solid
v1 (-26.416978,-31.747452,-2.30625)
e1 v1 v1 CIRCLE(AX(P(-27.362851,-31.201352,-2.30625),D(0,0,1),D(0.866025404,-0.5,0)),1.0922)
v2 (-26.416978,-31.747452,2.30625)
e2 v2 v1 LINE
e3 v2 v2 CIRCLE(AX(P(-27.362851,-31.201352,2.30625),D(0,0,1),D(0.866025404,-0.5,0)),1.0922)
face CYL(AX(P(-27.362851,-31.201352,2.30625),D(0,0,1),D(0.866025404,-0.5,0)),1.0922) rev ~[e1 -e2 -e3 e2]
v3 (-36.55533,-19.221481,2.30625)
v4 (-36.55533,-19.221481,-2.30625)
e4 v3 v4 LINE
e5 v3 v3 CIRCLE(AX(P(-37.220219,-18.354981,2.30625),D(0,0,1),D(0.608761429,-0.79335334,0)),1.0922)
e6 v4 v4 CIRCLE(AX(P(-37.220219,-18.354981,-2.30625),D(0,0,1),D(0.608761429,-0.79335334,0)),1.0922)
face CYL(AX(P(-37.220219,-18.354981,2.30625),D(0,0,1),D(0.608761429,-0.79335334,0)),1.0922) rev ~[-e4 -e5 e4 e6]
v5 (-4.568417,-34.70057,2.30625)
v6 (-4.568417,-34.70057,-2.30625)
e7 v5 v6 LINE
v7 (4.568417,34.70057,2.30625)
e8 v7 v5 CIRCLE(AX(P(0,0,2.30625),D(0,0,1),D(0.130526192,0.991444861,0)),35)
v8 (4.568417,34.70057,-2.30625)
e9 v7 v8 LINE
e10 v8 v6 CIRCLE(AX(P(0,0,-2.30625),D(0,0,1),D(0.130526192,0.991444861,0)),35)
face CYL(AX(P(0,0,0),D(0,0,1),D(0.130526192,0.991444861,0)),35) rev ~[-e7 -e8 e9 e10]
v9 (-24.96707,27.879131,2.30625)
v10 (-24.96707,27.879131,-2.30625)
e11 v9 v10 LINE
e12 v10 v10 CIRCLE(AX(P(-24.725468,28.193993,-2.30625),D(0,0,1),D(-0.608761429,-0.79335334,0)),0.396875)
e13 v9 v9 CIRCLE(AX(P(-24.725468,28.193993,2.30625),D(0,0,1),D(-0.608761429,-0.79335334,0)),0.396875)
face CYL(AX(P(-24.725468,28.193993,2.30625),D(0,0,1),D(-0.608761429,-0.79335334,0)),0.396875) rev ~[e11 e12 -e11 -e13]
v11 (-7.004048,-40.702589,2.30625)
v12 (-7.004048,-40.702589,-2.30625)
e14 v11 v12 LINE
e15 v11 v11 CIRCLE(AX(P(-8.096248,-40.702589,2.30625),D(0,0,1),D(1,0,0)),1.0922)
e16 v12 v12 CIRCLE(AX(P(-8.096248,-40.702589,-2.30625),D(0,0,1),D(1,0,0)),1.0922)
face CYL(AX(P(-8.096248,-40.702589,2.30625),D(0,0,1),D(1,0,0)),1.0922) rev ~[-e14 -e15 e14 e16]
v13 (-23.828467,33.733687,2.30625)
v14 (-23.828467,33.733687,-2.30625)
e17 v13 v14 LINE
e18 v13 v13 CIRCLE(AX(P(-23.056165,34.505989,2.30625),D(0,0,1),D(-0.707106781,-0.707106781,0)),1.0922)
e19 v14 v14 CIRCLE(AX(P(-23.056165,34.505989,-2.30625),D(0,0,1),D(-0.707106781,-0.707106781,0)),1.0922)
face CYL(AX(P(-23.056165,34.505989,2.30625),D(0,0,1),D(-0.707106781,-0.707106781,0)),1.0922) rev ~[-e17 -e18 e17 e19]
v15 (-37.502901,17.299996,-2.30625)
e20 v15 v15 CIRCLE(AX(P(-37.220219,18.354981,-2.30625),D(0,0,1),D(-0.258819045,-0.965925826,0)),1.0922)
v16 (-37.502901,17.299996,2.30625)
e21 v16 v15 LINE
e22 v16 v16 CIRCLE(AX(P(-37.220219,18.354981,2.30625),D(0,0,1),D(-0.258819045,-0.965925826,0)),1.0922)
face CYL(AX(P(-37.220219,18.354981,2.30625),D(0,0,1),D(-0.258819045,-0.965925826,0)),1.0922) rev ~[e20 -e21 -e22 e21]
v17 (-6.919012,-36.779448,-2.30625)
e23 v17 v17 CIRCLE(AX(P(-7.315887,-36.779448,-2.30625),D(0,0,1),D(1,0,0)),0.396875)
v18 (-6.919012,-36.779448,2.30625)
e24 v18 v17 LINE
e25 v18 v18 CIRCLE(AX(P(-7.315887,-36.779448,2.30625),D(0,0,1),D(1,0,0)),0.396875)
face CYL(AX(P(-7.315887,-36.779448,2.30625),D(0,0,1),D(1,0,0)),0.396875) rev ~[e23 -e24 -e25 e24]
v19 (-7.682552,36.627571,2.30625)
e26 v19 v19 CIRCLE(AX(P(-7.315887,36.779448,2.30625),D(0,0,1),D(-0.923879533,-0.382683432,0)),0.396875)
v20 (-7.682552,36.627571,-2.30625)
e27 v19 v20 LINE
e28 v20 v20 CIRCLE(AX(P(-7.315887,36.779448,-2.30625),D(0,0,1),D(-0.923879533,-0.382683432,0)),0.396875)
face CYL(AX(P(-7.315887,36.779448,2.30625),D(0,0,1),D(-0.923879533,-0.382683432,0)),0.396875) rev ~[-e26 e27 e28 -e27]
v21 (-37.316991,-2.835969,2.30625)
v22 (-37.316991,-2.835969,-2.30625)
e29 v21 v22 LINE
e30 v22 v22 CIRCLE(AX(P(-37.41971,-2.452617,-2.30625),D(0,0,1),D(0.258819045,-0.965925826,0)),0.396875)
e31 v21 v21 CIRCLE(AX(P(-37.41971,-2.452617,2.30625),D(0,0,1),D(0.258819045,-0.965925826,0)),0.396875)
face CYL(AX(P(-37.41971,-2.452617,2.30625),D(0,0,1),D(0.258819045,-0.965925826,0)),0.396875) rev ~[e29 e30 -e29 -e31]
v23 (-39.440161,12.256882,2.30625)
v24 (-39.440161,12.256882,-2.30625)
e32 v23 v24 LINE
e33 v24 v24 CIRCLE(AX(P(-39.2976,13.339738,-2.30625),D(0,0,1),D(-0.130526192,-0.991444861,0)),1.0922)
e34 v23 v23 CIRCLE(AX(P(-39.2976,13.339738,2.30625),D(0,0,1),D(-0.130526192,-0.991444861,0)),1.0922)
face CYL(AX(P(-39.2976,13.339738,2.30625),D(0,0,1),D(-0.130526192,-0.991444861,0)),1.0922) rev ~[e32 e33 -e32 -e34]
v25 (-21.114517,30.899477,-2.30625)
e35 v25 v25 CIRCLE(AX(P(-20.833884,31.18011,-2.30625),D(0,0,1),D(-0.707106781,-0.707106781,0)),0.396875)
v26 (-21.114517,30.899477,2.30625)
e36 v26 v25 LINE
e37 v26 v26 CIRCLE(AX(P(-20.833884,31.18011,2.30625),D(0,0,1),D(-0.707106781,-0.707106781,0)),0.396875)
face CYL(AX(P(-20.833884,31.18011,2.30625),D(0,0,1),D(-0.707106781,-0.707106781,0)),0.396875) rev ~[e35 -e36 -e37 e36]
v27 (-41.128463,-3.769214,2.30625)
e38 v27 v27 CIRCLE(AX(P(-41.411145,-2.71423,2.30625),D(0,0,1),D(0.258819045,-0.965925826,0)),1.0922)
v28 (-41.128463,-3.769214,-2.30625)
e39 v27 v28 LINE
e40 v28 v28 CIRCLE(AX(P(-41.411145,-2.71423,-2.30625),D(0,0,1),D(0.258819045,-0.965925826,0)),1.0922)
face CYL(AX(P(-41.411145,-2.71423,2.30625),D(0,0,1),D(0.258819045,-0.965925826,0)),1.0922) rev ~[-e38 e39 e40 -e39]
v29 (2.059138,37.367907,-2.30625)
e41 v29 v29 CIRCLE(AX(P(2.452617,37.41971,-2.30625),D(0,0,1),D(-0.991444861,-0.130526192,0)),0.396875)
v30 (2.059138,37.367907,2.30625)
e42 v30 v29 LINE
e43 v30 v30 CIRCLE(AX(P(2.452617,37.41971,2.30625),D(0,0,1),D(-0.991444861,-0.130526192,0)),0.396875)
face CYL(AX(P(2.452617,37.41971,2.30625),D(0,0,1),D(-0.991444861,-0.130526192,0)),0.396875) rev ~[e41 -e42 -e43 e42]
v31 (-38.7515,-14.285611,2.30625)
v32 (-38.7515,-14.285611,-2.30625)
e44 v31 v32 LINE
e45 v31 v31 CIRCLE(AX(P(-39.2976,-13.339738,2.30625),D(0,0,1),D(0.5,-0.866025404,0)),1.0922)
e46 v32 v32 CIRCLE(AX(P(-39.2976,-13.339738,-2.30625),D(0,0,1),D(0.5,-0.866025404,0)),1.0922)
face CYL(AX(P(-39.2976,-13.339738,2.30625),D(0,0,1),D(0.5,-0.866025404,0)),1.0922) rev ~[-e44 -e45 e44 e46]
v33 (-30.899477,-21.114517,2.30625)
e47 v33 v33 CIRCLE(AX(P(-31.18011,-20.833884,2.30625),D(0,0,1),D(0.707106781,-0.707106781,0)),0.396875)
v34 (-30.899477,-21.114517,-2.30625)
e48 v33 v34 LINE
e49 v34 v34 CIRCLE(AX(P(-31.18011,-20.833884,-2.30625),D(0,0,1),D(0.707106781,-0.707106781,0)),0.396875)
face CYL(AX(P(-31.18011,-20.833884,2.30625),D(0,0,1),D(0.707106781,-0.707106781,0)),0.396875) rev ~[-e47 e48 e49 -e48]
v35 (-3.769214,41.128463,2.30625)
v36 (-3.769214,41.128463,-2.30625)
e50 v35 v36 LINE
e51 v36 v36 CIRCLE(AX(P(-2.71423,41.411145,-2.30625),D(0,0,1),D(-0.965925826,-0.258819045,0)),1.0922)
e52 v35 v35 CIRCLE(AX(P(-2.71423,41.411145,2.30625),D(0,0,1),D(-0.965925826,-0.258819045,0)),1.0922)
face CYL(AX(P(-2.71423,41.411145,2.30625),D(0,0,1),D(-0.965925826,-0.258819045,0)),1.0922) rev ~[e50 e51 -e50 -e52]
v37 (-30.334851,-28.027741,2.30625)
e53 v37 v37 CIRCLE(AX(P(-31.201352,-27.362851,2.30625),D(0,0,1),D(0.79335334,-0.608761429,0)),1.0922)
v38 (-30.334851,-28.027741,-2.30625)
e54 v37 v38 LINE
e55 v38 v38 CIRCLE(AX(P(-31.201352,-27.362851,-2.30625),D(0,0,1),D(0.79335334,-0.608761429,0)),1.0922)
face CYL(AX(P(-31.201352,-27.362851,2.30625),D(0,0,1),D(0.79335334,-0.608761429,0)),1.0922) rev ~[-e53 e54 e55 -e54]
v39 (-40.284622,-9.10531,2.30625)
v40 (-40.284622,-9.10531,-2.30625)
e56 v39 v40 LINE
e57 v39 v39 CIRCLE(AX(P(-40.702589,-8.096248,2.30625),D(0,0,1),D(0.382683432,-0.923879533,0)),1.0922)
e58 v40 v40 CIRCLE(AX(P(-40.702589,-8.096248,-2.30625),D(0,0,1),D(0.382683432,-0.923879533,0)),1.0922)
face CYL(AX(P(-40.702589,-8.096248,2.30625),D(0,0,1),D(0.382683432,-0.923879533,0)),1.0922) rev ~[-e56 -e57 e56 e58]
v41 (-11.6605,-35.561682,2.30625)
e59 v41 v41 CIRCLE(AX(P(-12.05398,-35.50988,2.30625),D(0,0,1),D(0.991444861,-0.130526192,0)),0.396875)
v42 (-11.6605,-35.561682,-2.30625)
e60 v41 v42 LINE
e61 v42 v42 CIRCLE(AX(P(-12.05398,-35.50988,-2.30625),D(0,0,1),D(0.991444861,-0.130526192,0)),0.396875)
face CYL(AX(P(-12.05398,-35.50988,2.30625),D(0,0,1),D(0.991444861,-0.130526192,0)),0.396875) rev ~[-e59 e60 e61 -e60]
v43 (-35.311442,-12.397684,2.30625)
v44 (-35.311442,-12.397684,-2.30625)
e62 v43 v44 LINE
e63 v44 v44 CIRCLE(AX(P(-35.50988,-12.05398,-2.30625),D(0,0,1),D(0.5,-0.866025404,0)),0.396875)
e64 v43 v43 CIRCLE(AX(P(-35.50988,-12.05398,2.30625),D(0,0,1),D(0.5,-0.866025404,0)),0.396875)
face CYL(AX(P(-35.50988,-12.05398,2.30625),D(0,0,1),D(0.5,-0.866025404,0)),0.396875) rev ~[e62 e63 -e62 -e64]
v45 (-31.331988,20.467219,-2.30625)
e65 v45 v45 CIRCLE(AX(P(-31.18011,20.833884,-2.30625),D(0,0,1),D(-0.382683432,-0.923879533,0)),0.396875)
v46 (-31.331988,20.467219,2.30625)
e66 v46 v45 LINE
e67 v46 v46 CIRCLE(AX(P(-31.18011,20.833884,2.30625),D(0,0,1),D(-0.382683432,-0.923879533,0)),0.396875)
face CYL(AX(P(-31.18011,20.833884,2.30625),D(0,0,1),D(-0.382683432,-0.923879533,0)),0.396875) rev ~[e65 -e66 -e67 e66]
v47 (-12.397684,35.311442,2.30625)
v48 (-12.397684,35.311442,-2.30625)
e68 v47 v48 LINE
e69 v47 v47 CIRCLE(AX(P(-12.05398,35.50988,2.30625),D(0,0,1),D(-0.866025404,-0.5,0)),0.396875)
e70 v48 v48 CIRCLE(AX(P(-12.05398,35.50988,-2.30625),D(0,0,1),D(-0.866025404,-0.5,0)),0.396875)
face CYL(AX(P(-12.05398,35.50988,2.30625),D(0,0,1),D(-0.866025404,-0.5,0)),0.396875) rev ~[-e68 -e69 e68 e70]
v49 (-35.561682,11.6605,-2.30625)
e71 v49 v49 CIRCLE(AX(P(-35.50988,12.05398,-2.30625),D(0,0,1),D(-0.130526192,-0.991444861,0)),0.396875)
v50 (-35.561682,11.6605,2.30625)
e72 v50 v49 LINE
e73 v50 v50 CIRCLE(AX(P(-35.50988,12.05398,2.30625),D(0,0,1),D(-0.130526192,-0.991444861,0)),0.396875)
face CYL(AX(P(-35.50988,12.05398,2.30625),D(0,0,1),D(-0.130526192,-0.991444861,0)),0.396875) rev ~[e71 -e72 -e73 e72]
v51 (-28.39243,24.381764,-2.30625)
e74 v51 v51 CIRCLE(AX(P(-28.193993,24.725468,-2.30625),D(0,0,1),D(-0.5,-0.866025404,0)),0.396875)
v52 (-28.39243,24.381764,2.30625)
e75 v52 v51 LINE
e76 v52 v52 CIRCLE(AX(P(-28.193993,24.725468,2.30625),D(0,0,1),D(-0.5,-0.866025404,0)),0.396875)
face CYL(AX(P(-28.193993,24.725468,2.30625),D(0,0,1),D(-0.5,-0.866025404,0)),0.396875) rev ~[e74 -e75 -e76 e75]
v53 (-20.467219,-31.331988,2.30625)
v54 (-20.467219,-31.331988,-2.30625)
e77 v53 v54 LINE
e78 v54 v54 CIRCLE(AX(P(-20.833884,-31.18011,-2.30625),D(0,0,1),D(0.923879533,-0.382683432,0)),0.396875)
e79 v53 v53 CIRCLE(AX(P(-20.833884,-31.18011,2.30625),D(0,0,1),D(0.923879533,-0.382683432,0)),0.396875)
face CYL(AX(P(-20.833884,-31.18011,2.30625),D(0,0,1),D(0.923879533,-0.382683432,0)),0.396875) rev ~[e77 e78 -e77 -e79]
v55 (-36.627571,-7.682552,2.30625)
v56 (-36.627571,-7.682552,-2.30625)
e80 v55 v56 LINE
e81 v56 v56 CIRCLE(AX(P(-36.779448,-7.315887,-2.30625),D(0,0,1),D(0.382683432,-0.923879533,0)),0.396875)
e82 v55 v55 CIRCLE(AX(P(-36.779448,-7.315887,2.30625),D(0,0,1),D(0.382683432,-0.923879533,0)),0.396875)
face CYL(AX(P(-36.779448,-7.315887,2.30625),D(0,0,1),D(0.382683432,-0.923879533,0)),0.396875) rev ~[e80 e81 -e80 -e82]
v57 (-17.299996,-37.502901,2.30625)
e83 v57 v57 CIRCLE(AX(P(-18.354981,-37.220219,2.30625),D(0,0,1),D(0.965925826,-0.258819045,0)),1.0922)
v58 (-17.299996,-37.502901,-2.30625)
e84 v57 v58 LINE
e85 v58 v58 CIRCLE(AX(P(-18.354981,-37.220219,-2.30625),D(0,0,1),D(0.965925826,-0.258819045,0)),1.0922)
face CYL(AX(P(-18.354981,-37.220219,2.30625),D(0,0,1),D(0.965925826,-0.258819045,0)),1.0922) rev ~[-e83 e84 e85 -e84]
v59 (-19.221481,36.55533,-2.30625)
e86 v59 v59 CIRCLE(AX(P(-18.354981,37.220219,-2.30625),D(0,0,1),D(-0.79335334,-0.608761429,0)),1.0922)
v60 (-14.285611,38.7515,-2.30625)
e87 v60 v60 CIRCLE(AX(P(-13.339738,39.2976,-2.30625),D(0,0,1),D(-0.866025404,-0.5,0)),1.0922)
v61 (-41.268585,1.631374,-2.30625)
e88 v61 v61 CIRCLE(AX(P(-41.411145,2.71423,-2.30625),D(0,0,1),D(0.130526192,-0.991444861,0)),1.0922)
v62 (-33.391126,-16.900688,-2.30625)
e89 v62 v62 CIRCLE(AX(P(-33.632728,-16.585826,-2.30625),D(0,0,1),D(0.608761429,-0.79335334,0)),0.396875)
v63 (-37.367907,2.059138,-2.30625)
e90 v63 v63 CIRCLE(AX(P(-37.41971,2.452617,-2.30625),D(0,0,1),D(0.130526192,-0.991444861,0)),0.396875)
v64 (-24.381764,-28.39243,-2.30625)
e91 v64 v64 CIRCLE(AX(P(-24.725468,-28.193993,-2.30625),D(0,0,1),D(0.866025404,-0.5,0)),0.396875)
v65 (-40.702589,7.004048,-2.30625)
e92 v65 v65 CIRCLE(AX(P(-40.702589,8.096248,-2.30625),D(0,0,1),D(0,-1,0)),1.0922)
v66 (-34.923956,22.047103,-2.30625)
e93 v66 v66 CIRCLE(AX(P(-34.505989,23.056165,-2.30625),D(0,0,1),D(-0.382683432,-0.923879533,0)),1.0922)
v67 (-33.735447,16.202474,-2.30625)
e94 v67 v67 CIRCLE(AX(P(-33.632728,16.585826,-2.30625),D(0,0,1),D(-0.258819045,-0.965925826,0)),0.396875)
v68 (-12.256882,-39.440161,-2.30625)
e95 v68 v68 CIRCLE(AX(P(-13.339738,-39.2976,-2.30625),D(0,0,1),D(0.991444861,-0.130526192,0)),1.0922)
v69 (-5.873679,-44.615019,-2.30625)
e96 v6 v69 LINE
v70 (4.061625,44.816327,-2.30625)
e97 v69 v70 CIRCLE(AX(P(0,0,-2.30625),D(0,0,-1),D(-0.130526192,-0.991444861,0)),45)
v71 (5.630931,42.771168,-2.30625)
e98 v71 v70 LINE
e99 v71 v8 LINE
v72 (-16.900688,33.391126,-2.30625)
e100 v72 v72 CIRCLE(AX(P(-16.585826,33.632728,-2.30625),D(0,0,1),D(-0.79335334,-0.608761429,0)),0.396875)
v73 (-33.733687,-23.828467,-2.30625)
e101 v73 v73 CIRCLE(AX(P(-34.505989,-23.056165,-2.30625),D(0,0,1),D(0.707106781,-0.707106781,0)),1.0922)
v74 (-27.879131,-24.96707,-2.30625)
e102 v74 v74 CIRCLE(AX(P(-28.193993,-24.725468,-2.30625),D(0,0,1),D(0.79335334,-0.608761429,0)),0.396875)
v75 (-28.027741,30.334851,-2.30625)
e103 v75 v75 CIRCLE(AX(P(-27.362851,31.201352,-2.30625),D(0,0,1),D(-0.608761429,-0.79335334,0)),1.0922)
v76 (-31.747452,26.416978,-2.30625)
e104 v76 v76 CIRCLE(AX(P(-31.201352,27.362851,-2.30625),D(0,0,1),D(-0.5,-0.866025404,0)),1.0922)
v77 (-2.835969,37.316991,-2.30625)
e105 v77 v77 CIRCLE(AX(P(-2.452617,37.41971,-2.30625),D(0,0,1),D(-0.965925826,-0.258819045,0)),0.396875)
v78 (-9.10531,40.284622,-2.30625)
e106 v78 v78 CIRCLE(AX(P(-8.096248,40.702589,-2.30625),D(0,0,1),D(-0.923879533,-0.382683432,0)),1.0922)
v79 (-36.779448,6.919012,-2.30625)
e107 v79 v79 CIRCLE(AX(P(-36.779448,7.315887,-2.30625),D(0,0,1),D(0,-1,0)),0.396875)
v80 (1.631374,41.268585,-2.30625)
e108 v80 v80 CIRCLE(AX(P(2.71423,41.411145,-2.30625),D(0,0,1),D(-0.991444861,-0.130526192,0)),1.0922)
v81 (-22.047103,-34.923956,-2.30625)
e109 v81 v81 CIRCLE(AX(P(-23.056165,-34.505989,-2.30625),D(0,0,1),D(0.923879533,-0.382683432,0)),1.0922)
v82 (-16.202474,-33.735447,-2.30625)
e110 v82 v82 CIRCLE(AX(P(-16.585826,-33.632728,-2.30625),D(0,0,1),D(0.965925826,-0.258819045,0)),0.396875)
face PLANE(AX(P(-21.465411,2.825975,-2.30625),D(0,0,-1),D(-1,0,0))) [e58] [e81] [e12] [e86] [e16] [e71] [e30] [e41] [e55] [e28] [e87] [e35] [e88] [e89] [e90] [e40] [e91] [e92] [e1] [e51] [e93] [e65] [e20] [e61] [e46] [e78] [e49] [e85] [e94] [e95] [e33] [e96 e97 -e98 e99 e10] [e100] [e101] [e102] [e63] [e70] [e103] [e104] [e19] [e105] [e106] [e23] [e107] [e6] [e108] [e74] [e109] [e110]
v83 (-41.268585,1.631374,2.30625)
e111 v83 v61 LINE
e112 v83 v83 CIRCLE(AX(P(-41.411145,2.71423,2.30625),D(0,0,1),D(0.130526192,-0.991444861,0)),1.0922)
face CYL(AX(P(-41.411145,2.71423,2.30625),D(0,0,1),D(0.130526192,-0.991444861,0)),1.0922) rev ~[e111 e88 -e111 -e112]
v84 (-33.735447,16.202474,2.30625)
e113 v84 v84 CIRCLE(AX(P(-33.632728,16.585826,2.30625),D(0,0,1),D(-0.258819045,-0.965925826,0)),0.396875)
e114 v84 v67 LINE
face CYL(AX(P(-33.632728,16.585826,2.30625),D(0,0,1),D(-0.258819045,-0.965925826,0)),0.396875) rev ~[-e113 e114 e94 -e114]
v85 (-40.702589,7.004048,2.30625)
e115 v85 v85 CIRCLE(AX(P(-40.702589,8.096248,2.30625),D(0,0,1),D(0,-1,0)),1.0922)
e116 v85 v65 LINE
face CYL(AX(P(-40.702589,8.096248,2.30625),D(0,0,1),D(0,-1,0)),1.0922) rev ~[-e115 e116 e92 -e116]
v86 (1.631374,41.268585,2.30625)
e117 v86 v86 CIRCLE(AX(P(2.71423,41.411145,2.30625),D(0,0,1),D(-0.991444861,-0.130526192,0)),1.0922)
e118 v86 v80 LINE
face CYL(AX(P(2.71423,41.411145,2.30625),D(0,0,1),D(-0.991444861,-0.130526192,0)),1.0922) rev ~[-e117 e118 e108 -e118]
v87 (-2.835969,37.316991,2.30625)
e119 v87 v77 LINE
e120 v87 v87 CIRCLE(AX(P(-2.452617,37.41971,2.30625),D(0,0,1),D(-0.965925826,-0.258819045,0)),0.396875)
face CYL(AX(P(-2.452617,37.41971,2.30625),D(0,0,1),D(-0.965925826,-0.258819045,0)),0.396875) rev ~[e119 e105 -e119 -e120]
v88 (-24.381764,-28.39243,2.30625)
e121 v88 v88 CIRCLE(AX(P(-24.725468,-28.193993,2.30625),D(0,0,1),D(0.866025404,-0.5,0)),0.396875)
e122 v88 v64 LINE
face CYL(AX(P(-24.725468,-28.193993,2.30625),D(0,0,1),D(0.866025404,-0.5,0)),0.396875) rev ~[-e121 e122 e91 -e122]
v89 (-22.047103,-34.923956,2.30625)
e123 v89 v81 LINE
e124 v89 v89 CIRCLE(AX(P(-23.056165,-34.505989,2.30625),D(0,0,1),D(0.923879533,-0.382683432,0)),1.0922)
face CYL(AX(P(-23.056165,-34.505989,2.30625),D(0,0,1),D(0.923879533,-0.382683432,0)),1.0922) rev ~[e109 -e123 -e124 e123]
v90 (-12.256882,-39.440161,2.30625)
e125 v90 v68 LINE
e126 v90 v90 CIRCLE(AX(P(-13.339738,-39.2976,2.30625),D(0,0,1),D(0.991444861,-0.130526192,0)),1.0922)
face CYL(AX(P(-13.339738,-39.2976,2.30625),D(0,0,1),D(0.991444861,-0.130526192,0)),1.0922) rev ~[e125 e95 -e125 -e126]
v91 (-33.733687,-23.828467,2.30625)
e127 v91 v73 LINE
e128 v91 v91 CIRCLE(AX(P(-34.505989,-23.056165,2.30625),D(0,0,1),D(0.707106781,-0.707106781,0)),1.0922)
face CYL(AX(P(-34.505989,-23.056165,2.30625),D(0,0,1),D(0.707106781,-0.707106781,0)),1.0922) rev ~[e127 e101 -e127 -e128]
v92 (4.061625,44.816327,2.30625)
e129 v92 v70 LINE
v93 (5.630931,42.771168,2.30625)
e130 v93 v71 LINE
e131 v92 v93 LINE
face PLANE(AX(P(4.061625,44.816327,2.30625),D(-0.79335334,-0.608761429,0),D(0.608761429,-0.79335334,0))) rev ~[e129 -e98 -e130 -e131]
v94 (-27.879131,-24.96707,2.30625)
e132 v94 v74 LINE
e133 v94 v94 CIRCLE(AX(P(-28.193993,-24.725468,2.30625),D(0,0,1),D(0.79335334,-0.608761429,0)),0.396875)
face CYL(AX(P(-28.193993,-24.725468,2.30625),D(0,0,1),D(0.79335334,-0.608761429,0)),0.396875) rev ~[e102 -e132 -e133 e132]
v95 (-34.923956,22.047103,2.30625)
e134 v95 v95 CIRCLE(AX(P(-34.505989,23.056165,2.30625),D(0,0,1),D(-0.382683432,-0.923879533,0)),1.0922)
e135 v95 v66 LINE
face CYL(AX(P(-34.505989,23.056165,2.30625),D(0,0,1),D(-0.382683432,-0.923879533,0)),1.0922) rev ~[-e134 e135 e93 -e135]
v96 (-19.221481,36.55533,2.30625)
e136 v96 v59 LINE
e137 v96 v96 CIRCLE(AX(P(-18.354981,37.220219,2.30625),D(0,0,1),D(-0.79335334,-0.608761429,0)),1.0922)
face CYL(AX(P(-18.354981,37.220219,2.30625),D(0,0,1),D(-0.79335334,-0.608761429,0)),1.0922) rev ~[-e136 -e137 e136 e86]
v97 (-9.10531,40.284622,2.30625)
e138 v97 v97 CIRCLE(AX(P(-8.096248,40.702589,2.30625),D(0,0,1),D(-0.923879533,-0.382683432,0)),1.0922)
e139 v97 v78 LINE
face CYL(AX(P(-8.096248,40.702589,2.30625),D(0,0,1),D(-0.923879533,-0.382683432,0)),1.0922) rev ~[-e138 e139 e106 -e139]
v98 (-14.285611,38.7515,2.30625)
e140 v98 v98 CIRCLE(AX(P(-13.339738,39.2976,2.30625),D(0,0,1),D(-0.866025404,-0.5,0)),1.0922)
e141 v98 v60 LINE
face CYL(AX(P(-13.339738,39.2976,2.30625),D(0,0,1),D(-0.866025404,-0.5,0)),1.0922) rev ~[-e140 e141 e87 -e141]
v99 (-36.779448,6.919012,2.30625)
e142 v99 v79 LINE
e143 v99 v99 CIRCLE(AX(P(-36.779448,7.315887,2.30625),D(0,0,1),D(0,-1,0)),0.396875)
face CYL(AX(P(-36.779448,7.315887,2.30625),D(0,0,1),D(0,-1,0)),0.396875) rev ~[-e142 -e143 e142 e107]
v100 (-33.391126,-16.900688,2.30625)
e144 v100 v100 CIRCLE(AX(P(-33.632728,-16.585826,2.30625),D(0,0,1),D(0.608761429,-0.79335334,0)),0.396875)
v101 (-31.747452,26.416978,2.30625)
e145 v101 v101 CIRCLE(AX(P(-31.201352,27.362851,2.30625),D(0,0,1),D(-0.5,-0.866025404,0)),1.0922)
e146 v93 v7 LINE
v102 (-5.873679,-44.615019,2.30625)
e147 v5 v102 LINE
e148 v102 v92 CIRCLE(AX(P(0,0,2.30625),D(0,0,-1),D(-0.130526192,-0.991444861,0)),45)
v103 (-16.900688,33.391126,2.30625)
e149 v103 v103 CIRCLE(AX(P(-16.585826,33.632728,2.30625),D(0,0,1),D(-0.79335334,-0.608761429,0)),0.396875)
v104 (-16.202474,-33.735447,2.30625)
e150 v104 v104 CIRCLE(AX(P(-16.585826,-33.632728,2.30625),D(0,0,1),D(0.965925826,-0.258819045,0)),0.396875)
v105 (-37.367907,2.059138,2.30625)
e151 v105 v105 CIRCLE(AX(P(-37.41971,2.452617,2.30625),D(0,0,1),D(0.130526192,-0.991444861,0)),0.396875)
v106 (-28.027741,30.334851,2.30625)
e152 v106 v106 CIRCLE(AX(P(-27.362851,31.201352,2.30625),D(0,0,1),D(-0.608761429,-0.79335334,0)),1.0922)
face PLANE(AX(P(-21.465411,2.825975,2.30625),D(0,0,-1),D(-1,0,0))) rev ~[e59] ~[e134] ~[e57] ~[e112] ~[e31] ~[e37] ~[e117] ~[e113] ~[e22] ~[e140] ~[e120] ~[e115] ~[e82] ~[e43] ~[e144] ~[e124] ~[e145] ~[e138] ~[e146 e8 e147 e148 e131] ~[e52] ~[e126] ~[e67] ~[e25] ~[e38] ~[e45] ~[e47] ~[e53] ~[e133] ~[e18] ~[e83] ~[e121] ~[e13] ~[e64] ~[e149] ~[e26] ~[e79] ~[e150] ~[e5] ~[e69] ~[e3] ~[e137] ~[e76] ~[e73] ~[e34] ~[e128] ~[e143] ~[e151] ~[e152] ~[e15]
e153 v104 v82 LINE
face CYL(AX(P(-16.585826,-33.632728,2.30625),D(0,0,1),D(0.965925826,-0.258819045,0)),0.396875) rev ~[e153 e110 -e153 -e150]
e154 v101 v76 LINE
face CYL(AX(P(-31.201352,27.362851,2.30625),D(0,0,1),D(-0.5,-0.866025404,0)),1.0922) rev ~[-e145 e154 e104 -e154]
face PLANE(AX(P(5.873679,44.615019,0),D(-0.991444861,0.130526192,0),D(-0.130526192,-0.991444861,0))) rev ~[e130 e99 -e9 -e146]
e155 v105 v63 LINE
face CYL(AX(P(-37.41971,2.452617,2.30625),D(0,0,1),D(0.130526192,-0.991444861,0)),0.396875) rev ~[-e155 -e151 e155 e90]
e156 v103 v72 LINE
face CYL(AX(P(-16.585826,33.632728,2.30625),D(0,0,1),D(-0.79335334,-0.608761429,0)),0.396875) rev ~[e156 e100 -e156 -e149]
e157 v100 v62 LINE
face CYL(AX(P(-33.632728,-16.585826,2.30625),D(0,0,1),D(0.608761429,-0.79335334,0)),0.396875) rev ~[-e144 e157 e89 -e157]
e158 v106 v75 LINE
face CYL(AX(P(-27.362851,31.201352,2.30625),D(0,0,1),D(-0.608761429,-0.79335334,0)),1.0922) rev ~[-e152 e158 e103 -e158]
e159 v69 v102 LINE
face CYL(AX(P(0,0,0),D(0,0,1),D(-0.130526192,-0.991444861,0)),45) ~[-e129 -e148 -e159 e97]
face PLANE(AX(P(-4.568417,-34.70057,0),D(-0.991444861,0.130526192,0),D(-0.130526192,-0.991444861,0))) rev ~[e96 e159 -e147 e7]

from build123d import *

# Parameters (mm, degrees)
EXTRUDE5_DEPTH     = 2.30625
SKETCH31_R         = 0.396875
SKETCH31_R_2       = 1.0922
CUT_EXTRUDE4_DEPTH = 5.6125
CIRPATTERN1_COUNT  = 24
CIRPATTERN1_ANGLE  = 172.5
CUT_EXTRUDE5_DEPTH = 5.6125


with BuildPart() as part:
    # Sketch7 → Extrude5 (new body, symmetric)
    with BuildSketch(Plane.XY):
        with BuildLine():
            Line((5.87367865, 44.615018762), (4.568416728, 34.700570148))
            ThreePointArc((4.568416728, 34.700570148), (-34.700570148, 4.568416728), (-4.568416728, -34.700570148))
            Line((-4.568416728, -34.700570148), (-5.87367865, -44.615018762))
            ThreePointArc((-5.87367865, -44.615018762), (-44.615018762, 5.87367865), (5.87367865, 44.615018762))
        make_face()
    extrude(amount=EXTRUDE5_DEPTH, both=True)

    # Sketch31 → Cut-Extrude4 (cut, through all)
    with BuildSketch(Plane.XY.offset(2.30625)):
        with Locations((-7.315887076, -36.779448015)):
            Circle(SKETCH31_R)
        with Locations((-8.096248364, -40.702589137)):
            Circle(SKETCH31_R_2)
    cut_extrude4 = extrude(amount=-CUT_EXTRUDE4_DEPTH, mode=Mode.SUBTRACT)

    # CirPattern1: Cut-Extrude4 ×24 about axis
    cirpattern1_axis = Axis((0, 0, 0), (0, 0, -1))
    for i in range(1, CIRPATTERN1_COUNT):
        add(cut_extrude4.rotate(cirpattern1_axis, i * CIRPATTERN1_ANGLE / (CIRPATTERN1_COUNT - 1)), mode=Mode.SUBTRACT)

    # Sketch32 → Cut-Extrude5 (cut, through all)
    with BuildSketch(Plane.XY.offset(2.30625)):
        with BuildLine():
            Line((4.061625331, 44.816327378), (5.630931125, 42.77116825))
            Line((5.630931125, 42.77116825), (5.87367865, 44.615018762))
            ThreePointArc((5.87367865, 44.615018762), (4.968671612, 44.724851061), (4.061625331, 44.816327378))
        make_face()
    extrude(amount=-CUT_EXTRUDE5_DEPTH, mode=Mode.SUBTRACT)


solid = part.part
